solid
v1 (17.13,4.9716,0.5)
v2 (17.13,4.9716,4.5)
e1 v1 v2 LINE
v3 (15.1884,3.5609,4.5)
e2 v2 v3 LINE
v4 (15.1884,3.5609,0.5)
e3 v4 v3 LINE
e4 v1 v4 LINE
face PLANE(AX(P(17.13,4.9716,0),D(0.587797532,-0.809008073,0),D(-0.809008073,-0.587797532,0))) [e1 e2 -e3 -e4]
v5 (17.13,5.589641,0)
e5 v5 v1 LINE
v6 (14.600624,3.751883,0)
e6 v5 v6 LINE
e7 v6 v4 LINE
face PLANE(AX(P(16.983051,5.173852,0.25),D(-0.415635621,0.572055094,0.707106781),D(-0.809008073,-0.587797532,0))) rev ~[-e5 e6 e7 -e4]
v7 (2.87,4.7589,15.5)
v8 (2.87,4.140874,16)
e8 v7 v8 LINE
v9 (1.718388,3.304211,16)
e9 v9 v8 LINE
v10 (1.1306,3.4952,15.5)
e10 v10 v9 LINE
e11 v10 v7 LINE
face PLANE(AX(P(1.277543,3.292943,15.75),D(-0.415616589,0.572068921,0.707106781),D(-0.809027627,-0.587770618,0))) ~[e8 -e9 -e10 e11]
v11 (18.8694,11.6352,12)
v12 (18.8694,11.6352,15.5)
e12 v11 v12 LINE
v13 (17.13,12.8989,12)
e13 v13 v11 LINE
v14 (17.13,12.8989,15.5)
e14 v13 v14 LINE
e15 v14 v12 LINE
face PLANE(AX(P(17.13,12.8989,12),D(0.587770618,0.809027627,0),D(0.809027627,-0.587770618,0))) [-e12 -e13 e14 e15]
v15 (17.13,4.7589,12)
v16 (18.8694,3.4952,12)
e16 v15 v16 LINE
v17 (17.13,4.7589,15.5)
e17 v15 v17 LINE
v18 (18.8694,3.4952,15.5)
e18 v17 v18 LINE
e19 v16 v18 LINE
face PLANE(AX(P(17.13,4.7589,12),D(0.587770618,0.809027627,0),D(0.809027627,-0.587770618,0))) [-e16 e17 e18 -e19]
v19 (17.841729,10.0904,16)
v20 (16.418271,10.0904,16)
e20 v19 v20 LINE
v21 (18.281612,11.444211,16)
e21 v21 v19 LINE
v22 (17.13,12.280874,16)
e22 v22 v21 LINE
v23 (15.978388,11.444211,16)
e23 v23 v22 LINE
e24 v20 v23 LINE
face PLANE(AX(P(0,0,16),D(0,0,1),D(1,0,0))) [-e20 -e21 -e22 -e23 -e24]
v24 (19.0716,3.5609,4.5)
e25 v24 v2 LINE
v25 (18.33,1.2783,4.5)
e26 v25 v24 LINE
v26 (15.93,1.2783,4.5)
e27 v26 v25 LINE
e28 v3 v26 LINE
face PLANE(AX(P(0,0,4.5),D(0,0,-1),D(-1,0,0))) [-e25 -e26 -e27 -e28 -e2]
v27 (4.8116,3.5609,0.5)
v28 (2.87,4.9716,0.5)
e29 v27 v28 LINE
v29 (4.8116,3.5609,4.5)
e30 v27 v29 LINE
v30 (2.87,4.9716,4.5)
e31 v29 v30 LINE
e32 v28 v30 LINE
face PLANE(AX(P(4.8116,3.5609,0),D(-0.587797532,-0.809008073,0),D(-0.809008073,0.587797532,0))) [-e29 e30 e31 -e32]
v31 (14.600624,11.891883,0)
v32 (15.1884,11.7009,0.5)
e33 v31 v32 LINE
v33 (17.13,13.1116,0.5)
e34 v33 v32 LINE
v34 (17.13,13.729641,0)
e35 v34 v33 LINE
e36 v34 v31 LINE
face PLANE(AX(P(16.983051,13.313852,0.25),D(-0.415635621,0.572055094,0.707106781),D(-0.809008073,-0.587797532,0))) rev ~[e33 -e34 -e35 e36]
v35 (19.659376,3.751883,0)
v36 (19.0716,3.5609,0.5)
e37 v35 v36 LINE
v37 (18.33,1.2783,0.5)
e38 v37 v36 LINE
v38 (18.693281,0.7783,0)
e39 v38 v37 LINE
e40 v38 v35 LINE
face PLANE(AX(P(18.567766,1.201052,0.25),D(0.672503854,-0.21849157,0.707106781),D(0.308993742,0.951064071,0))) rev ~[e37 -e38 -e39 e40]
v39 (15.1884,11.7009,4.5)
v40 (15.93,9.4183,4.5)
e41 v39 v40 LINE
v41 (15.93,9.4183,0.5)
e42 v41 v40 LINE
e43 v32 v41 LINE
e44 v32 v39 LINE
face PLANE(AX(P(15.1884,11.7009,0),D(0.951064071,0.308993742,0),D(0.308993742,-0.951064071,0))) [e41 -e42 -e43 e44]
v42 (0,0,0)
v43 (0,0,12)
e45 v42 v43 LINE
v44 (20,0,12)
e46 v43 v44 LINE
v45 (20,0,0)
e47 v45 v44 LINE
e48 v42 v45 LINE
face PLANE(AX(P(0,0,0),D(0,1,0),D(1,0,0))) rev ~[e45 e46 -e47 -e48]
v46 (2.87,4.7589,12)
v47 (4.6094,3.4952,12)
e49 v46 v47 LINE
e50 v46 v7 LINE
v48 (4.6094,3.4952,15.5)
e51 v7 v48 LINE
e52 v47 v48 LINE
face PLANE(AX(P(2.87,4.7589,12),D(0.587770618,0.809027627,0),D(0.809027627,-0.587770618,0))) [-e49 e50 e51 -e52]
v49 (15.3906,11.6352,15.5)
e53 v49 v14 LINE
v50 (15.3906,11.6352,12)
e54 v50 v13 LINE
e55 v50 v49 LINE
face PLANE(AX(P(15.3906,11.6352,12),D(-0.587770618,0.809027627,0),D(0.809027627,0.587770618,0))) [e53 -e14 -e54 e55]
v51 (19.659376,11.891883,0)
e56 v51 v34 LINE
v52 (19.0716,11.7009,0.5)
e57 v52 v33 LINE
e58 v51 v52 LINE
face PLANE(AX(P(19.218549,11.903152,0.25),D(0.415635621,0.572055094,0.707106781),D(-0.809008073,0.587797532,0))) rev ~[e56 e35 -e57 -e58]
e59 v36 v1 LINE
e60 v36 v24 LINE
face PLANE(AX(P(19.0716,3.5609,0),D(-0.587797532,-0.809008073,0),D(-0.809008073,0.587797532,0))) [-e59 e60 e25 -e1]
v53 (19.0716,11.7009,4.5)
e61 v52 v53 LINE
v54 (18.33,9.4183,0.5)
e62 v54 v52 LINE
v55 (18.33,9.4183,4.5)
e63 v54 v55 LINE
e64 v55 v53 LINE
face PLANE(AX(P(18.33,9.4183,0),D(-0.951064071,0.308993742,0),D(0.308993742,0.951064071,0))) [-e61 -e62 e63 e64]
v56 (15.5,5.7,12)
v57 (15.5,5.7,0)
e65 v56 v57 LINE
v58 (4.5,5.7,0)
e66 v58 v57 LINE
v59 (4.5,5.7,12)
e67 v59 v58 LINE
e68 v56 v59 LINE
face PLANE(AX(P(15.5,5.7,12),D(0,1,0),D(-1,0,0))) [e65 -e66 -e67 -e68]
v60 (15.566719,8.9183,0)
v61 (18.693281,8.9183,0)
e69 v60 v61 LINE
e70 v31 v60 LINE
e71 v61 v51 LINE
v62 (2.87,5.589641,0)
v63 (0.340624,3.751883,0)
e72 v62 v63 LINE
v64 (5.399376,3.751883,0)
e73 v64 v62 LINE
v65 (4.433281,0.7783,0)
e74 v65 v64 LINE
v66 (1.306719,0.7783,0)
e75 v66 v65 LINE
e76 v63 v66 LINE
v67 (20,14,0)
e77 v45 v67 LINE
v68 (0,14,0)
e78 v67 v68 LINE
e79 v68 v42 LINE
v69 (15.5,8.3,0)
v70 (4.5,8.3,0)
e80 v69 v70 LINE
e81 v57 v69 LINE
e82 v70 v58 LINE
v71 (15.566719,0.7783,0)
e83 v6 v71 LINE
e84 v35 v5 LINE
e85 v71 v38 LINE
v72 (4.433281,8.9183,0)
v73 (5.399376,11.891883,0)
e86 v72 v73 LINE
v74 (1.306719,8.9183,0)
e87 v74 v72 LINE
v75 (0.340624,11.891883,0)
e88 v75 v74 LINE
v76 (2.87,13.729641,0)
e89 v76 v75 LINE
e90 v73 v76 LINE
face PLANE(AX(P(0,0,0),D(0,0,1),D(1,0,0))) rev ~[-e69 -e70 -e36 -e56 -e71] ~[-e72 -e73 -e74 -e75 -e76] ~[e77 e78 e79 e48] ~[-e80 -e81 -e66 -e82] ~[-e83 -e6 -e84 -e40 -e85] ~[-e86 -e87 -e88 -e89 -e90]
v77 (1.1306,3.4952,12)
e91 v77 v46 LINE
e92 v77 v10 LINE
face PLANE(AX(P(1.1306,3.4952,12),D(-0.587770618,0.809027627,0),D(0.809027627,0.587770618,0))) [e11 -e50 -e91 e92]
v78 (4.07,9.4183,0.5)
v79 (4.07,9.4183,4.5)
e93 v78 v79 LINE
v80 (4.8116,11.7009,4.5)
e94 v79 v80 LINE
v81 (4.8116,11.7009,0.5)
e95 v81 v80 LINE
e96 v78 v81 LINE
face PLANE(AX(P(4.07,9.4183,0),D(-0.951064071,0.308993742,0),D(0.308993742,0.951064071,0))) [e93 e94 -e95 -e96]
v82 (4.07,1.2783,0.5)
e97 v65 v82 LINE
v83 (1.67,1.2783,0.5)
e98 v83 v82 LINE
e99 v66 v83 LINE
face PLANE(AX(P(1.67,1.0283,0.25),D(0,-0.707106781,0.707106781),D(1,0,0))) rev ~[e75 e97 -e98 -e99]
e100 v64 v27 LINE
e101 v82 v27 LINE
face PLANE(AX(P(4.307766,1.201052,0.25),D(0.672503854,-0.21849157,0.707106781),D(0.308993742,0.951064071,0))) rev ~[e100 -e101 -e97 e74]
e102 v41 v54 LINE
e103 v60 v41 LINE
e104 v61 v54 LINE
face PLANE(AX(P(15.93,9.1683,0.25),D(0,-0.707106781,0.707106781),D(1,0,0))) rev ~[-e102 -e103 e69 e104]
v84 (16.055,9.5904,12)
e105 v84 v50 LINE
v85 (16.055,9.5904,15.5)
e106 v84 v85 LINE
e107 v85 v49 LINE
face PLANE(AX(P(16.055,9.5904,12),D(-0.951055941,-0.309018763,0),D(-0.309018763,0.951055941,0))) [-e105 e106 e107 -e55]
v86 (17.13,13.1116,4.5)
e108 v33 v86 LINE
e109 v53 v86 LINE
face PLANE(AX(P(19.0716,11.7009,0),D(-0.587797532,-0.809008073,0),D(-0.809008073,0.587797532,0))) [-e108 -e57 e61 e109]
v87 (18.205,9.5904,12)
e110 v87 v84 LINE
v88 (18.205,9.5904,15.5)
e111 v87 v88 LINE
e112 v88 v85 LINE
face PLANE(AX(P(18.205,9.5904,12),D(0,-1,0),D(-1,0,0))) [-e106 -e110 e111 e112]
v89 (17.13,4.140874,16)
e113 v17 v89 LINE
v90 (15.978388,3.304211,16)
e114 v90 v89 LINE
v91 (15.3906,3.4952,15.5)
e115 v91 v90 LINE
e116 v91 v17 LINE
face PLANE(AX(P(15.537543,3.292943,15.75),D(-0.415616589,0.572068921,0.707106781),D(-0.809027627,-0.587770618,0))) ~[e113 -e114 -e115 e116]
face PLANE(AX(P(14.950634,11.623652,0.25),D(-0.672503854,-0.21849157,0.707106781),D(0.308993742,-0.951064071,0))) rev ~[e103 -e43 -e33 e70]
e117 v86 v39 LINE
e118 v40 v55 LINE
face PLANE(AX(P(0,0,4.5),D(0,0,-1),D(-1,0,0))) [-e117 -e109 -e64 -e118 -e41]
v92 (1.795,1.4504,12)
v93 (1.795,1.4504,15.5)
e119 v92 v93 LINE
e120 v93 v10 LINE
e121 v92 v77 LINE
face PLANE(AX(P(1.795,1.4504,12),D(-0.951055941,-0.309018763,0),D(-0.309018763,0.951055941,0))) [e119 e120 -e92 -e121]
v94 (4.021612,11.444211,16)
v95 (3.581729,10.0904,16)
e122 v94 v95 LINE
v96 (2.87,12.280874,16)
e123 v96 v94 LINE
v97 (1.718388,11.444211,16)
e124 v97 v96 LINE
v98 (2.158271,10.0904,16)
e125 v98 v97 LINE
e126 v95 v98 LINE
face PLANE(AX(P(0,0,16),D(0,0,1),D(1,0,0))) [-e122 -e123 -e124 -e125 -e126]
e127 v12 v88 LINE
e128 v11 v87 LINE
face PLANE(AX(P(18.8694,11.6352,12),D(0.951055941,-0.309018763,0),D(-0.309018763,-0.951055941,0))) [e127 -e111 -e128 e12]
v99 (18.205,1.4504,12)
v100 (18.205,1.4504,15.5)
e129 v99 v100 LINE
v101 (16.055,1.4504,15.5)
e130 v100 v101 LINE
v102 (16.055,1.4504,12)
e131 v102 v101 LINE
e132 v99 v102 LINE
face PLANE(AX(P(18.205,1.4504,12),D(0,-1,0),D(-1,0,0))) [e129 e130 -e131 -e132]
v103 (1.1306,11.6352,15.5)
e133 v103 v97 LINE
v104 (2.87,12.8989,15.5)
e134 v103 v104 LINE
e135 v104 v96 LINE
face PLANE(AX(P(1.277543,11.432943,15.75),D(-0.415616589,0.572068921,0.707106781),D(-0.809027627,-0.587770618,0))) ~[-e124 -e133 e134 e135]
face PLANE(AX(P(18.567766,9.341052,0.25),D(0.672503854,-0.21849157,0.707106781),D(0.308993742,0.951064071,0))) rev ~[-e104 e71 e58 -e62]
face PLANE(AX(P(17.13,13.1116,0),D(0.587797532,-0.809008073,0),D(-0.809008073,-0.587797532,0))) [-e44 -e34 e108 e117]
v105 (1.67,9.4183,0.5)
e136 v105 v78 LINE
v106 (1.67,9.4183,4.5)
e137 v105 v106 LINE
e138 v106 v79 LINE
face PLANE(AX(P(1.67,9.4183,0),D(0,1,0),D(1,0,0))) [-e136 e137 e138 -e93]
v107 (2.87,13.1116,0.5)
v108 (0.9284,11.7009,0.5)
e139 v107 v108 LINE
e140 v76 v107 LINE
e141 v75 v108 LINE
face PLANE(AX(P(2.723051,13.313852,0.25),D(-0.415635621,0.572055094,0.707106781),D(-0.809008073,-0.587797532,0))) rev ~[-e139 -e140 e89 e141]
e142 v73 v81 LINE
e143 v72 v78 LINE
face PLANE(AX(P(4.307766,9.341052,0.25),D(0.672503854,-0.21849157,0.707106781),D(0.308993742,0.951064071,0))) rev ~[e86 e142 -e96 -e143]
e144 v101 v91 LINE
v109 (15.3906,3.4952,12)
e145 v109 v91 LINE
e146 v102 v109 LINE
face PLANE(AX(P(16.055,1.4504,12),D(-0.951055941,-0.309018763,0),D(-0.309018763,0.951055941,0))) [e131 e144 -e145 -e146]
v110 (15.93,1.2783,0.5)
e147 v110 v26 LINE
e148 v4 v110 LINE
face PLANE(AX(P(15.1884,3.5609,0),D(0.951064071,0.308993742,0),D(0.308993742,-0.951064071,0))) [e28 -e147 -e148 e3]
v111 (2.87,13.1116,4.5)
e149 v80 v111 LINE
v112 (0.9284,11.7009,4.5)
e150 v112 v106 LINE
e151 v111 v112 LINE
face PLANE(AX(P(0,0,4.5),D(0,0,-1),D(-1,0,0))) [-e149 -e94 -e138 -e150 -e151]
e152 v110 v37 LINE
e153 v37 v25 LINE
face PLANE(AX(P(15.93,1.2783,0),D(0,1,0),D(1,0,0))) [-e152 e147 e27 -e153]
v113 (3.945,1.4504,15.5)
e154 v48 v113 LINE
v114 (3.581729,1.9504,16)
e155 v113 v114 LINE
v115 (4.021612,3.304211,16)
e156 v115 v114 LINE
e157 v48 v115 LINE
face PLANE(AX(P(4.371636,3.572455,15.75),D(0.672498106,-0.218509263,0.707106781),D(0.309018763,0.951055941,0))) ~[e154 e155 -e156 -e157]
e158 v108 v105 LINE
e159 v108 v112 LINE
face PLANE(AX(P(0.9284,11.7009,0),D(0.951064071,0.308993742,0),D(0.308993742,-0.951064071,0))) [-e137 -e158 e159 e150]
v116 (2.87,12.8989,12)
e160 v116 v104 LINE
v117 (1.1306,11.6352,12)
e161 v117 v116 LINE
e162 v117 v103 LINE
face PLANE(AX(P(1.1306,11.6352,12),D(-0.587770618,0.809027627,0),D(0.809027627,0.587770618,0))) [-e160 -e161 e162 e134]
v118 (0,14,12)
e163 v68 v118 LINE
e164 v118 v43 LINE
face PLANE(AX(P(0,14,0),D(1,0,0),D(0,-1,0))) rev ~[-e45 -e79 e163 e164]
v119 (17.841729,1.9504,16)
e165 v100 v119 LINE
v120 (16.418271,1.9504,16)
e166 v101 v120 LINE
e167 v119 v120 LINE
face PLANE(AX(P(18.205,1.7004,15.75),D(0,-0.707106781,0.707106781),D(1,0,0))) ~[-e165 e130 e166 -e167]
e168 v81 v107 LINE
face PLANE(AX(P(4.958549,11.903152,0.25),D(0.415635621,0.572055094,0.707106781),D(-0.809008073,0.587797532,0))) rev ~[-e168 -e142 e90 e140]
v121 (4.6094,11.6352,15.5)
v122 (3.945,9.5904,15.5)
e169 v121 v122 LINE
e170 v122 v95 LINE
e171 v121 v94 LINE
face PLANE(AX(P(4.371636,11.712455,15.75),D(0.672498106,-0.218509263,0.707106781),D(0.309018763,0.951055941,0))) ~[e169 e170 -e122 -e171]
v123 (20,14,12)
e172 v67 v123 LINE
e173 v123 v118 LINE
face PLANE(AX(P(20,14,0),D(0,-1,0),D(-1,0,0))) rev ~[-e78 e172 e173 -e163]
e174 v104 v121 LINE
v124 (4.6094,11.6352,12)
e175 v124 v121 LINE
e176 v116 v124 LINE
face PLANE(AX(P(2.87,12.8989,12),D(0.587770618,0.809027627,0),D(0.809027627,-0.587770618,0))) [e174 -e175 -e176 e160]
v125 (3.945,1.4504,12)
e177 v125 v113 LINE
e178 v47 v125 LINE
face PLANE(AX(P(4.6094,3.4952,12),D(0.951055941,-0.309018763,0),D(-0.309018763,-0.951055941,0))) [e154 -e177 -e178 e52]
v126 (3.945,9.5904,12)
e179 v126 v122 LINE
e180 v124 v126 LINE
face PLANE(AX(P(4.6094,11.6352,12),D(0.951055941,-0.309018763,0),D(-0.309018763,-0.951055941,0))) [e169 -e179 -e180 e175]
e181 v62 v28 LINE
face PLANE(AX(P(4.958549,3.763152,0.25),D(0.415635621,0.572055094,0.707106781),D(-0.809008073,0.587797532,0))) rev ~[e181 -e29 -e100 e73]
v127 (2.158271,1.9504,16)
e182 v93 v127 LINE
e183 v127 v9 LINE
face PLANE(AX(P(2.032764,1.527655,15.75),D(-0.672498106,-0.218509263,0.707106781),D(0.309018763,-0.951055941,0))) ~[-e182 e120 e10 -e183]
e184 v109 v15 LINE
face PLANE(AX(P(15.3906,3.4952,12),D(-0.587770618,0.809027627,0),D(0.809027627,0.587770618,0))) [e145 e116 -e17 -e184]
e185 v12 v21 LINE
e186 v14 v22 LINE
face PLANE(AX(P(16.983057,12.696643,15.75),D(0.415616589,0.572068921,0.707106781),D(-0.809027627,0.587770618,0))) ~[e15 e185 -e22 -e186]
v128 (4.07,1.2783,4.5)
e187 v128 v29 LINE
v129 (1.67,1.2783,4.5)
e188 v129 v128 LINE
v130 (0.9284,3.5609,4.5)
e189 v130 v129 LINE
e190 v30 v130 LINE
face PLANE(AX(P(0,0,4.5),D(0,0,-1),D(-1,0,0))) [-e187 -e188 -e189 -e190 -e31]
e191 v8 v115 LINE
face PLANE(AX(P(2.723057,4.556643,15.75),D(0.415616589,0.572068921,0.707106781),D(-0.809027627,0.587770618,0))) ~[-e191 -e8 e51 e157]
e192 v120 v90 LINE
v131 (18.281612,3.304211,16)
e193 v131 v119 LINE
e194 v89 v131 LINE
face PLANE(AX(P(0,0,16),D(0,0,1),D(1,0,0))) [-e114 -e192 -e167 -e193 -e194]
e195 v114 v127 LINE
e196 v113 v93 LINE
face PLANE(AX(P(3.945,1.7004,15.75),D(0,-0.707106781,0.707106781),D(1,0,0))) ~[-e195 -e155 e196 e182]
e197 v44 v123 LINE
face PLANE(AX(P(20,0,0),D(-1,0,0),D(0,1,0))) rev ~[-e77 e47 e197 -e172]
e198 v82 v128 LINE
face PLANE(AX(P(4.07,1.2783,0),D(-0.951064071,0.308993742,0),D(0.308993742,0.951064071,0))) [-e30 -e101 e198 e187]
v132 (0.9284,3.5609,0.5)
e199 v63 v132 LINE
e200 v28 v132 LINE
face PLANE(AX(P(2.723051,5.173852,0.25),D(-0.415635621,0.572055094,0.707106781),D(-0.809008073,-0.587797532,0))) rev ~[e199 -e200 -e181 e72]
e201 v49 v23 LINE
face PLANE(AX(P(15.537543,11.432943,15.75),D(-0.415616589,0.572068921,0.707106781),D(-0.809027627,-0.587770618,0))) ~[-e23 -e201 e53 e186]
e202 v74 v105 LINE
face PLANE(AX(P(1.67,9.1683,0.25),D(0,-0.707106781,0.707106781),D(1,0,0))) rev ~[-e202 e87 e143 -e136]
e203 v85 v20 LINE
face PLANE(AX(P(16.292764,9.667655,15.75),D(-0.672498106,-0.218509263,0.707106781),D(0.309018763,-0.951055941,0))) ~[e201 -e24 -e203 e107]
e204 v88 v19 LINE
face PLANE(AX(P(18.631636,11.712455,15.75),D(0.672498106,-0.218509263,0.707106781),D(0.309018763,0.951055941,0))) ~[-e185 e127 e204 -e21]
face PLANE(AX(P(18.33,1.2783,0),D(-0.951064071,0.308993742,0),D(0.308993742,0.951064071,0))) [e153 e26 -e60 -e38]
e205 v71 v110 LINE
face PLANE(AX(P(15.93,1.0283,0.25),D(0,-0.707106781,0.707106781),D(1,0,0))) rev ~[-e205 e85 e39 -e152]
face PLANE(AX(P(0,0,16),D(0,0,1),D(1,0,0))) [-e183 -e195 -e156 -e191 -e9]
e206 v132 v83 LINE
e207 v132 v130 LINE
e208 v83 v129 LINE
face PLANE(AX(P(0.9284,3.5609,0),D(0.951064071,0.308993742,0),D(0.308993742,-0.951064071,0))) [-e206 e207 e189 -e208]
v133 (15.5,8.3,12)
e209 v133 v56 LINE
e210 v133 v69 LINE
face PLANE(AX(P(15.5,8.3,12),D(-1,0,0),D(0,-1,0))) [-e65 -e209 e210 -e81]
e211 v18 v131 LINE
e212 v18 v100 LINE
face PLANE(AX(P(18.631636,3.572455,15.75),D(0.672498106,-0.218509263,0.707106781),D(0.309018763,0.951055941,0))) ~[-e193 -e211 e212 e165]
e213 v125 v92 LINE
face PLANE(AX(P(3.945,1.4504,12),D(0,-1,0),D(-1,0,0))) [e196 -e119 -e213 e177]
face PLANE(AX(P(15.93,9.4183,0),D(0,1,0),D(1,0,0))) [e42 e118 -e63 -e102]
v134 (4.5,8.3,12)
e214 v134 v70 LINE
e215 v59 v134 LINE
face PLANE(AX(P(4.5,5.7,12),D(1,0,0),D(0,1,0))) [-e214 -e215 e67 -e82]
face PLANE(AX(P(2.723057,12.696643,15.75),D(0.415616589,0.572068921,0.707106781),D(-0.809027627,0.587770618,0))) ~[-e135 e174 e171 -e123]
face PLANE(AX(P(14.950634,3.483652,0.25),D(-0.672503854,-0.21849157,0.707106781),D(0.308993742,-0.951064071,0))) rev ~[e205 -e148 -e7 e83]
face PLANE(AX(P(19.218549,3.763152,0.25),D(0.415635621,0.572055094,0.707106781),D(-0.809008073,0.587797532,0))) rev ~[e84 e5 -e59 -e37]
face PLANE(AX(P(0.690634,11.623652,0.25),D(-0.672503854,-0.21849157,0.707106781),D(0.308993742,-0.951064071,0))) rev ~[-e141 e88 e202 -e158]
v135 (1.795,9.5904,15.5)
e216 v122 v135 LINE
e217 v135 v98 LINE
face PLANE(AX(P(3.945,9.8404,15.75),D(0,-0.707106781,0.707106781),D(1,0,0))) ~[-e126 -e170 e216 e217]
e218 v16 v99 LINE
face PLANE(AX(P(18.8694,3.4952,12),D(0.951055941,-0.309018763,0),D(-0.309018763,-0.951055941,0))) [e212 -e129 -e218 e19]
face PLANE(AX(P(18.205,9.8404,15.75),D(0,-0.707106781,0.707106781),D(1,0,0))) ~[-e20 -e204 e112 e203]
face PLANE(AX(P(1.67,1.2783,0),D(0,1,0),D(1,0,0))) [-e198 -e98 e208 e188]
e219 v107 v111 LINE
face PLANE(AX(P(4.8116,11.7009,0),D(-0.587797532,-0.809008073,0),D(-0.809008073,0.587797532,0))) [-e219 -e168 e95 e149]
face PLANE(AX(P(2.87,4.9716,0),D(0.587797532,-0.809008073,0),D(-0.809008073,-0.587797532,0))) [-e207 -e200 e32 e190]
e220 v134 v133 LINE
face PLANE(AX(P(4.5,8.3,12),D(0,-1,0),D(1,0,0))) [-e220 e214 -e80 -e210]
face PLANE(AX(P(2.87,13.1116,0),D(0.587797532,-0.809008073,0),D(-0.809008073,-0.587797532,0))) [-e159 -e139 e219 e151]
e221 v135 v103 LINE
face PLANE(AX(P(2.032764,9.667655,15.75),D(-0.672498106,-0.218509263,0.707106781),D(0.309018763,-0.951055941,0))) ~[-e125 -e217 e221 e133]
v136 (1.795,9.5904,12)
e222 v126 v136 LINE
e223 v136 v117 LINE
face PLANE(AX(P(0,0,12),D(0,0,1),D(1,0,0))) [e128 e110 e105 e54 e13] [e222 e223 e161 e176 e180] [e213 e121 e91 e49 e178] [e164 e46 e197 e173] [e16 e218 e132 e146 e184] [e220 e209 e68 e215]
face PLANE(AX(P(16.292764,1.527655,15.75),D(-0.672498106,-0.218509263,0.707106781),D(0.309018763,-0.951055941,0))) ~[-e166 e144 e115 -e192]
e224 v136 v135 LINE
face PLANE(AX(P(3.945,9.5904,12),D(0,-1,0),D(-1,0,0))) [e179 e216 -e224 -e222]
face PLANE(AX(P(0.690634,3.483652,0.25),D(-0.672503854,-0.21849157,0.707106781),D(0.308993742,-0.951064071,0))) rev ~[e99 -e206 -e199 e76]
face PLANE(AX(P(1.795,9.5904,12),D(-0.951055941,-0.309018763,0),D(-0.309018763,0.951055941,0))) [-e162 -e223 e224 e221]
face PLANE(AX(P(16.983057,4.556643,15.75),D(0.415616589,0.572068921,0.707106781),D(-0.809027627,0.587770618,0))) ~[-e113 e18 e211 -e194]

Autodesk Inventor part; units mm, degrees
ref_plane "YZ Plane" through (0, 0, 0) normal (1, 0, 0) x (0, 1, 0)
ref_plane "XZ Plane" through (0, 0, 0) normal (0, 1, 0) x (-1, 0, 0)
ref_plane "XY Plane" through (0, 0, 0) normal (0, 0, 1) x (1, 0, 0)
sketch "Sketch1" plane through (0, 0, 0) normal (0, 0, 1) x (1, 0, 0)
  line L0 (0, 0) -> (20, 0)
  line L1 (20, 0) -> (20, 14)
  line L2 (20, 14) -> (0, 14)
  line L3 (0, 14) -> (0, 0)
  dimension "d0" = 20
  dimension "d1" = 14
extrude "Extrusion1" add sketch "Sketch1" along normal blind 12
sketch "Sketch2" plane through (0, 0, 12) normal (0, 0, 1) x (1, 0, 0)
  line L0 (0, 0) -> (20, 0) projected
  line L1 (20, 14) -> (0, 14) projected
  line L2 (0, 14) -> (0, 0) projected
  line L3 (4.6094, 11.6352) -> (3.945, 9.5904)
  line L4 (3.945, 9.5904) -> (1.795, 9.5904)
  line L5 (1.795, 9.5904) -> (1.1306, 11.6352)
  line L6 (1.1306, 11.6352) -> (2.87, 12.8989)
  line L7 (2.87, 12.8989) -> (4.6094, 11.6352)
  line L8 (18.8694, 11.6352) -> (18.205, 9.5904)
  line L9 (18.205, 9.5904) -> (16.055, 9.5904)
  line L10 (16.055, 9.5904) -> (15.3906, 11.6352)
  line L11 (15.3906, 11.6352) -> (17.13, 12.8989)
  line L12 (17.13, 12.8989) -> (18.8694, 11.6352)
  line L13 (4.6094, 3.4952) -> (3.945, 1.4504)
  line L14 (3.945, 1.4504) -> (1.795, 1.4504)
  line L15 (1.795, 1.4504) -> (1.1306, 3.4952)
  line L16 (1.1306, 3.4952) -> (2.87, 4.7589)
  line L17 (2.87, 4.7589) -> (4.6094, 3.4952)
  line L18 (18.8694, 3.4952) -> (18.205, 1.4504)
  line L19 (18.205, 1.4504) -> (16.055, 1.4504)
  line L20 (16.055, 1.4504) -> (15.3906, 3.4952)
  line L21 (15.3906, 3.4952) -> (17.13, 4.7589)
  line L22 (17.13, 4.7589) -> (18.8694, 3.4952)
  point P0 (2.87, 11.07)
  point P1 (17.13, 11.07)
  point P2 (2.87, 2.93)
  point P3 (17.13, 2.93)
  dimension "d14" = 2.15
  dimension "d16" = 2.15
  dimension "d17" = 2.93
  dimension "d18" = 2.87
  dimension "d20" = 2.93
  dimension "d55" = 2.15
  dimension "d56" = 2.15
extrude "Extrusion2" add sketch "Sketch2" along normal blind 4
chamfer "Chamfer1" distance 0.5 angle 45 20 edges at (4.2772, 10.6128, 16) (2.87, 9.5904, 16) (1.4628, 10.6128, 16) (2.0003, 12.267, 16) (3.7397, 12.267, 16) (3.7397, 4.127, 16) (2.0003, 4.127, 16) (1.4628, 2.4728, 16) (2.87, 1.4504, 16) (4.2772, 2.4728, 16) (17.13, 1.4504, 16) (15.7228, 2.4728, 16) (16.2603, 4.127, 16) (17.9997, 4.127, 16) (18.5372, 2.4728, 16) (17.13, 9.5904, 16) (18.5372, 10.6128, 16) (17.9997, 12.267, 16) (16.2603, 12.267, 16) (15.7228, 10.6128, 16)
sketch "Sketch3" plane through (0, 0, 0) normal (0, 0, -1) x (-1, 0, 0)
  line L0 (0, 0) -> (-20, 0) projected
  line L1 (0, 14) -> (0, 0) projected
  line L2 (-20, 14) -> (0, 14) projected
  line L3 (-20, 0) -> (-20, 14) projected
  line L4 (-4.8116, 3.5609) -> (-2.87, 4.9716)
  line L5 (-2.87, 4.9716) -> (-0.9284, 3.5609)
  line L6 (-0.9284, 3.5609) -> (-1.67, 1.2783)
  line L7 (-1.67, 1.2783) -> (-4.07, 1.2783)
  line L8 (-4.07, 1.2783) -> (-4.8116, 3.5609)
  line L9 (-19.0716, 3.5609) -> (-17.13, 4.9716)
  line L10 (-17.13, 4.9716) -> (-15.1884, 3.5609)
  line L11 (-15.1884, 3.5609) -> (-15.93, 1.2783)
  line L12 (-15.93, 1.2783) -> (-18.33, 1.2783)
  line L13 (-18.33, 1.2783) -> (-19.0716, 3.5609)
  line L14 (-2.87, 13.1116) -> (-0.9284, 11.7009)
  line L15 (-0.9284, 11.7009) -> (-1.67, 9.4183)
  line L16 (-1.67, 9.4183) -> (-4.07, 9.4183)
  line L17 (-4.07, 9.4183) -> (-4.8116, 11.7009)
  line L18 (-4.8116, 11.7009) -> (-2.87, 13.1116)
  line L19 (-17.13, 13.1116) -> (-15.1884, 11.7009)
  line L20 (-15.1884, 11.7009) -> (-15.93, 9.4183)
  line L21 (-15.93, 9.4183) -> (-18.33, 9.4183)
  line L22 (-18.33, 9.4183) -> (-19.0716, 11.7009)
  line L23 (-19.0716, 11.7009) -> (-17.13, 13.1116)
  point P0 (-2.87, 2.93)
  point P1 (-17.13, 2.93)
  point P2 (-2.87, 11.07)
  point P3 (-17.13, 11.07)
  dimension "d30" = 2.4
  dimension "d31" = 2.4
  dimension "d32" = 2.4
  dimension "d33" = 2.4
  dimension "d34" = 2.87
  dimension "d35" = 2.87
  dimension "d36" = 2.93
  dimension "d37" = 2.93
extrude "Extrusion3" cut sketch "Sketch3" against normal blind 4.5 contours L4 L5 L6 L7 L8 | L9 L10 L11 L12 L13 | L14 L15 L16 L17 L18 | L19 L20 L21 L22 L23
chamfer "Chamfer2" distance 0.5 angle 45 20 edges at (17.13, 1.2783, 0) (18.7008, 2.4196, 0) (15.5592, 2.4196, 0) (16.1592, 4.2662, 0) (18.1008, 4.2662, 0) (1.8992, 4.2662, 0) (1.2992, 2.4196, 0) (2.87, 1.2783, 0) (4.4408, 2.4196, 0) (3.8408, 4.2662, 0) (4.4408, 10.5596, 0) (2.87, 9.4183, 0) (1.2992, 10.5596, 0) (1.8992, 12.4062, 0) (3.8408, 12.4062, 0) (16.1592, 12.4062, 0) (15.5592, 10.5596, 0) (17.13, 9.4183, 0) (18.7008, 10.5596, 0) (18.1008, 12.4062, 0)
sketch "Sketch5" plane through (0, 0, 12) normal (0, 0, 1) x (1, 0, 0)
  line L0 (20, 14) -> (0, 14) projected
  line L1 (0, 14) -> (0, 0) projected
  line L2 (4.5, 8.3) -> (15.5, 8.3)
  line L3 (15.5, 8.3) -> (15.5, 5.7)
  line L4 (15.5, 5.7) -> (4.5, 5.7)
  line L5 (4.5, 5.7) -> (4.5, 8.3)
  dimension "d60" = 11
  dimension "d61" = 2.6
  dimension "d62" = 5.7
  dimension "d63" = 4.5
extrude "Extrusion5" cut sketch "Sketch5" against normal up to next
properties part number "lego"
